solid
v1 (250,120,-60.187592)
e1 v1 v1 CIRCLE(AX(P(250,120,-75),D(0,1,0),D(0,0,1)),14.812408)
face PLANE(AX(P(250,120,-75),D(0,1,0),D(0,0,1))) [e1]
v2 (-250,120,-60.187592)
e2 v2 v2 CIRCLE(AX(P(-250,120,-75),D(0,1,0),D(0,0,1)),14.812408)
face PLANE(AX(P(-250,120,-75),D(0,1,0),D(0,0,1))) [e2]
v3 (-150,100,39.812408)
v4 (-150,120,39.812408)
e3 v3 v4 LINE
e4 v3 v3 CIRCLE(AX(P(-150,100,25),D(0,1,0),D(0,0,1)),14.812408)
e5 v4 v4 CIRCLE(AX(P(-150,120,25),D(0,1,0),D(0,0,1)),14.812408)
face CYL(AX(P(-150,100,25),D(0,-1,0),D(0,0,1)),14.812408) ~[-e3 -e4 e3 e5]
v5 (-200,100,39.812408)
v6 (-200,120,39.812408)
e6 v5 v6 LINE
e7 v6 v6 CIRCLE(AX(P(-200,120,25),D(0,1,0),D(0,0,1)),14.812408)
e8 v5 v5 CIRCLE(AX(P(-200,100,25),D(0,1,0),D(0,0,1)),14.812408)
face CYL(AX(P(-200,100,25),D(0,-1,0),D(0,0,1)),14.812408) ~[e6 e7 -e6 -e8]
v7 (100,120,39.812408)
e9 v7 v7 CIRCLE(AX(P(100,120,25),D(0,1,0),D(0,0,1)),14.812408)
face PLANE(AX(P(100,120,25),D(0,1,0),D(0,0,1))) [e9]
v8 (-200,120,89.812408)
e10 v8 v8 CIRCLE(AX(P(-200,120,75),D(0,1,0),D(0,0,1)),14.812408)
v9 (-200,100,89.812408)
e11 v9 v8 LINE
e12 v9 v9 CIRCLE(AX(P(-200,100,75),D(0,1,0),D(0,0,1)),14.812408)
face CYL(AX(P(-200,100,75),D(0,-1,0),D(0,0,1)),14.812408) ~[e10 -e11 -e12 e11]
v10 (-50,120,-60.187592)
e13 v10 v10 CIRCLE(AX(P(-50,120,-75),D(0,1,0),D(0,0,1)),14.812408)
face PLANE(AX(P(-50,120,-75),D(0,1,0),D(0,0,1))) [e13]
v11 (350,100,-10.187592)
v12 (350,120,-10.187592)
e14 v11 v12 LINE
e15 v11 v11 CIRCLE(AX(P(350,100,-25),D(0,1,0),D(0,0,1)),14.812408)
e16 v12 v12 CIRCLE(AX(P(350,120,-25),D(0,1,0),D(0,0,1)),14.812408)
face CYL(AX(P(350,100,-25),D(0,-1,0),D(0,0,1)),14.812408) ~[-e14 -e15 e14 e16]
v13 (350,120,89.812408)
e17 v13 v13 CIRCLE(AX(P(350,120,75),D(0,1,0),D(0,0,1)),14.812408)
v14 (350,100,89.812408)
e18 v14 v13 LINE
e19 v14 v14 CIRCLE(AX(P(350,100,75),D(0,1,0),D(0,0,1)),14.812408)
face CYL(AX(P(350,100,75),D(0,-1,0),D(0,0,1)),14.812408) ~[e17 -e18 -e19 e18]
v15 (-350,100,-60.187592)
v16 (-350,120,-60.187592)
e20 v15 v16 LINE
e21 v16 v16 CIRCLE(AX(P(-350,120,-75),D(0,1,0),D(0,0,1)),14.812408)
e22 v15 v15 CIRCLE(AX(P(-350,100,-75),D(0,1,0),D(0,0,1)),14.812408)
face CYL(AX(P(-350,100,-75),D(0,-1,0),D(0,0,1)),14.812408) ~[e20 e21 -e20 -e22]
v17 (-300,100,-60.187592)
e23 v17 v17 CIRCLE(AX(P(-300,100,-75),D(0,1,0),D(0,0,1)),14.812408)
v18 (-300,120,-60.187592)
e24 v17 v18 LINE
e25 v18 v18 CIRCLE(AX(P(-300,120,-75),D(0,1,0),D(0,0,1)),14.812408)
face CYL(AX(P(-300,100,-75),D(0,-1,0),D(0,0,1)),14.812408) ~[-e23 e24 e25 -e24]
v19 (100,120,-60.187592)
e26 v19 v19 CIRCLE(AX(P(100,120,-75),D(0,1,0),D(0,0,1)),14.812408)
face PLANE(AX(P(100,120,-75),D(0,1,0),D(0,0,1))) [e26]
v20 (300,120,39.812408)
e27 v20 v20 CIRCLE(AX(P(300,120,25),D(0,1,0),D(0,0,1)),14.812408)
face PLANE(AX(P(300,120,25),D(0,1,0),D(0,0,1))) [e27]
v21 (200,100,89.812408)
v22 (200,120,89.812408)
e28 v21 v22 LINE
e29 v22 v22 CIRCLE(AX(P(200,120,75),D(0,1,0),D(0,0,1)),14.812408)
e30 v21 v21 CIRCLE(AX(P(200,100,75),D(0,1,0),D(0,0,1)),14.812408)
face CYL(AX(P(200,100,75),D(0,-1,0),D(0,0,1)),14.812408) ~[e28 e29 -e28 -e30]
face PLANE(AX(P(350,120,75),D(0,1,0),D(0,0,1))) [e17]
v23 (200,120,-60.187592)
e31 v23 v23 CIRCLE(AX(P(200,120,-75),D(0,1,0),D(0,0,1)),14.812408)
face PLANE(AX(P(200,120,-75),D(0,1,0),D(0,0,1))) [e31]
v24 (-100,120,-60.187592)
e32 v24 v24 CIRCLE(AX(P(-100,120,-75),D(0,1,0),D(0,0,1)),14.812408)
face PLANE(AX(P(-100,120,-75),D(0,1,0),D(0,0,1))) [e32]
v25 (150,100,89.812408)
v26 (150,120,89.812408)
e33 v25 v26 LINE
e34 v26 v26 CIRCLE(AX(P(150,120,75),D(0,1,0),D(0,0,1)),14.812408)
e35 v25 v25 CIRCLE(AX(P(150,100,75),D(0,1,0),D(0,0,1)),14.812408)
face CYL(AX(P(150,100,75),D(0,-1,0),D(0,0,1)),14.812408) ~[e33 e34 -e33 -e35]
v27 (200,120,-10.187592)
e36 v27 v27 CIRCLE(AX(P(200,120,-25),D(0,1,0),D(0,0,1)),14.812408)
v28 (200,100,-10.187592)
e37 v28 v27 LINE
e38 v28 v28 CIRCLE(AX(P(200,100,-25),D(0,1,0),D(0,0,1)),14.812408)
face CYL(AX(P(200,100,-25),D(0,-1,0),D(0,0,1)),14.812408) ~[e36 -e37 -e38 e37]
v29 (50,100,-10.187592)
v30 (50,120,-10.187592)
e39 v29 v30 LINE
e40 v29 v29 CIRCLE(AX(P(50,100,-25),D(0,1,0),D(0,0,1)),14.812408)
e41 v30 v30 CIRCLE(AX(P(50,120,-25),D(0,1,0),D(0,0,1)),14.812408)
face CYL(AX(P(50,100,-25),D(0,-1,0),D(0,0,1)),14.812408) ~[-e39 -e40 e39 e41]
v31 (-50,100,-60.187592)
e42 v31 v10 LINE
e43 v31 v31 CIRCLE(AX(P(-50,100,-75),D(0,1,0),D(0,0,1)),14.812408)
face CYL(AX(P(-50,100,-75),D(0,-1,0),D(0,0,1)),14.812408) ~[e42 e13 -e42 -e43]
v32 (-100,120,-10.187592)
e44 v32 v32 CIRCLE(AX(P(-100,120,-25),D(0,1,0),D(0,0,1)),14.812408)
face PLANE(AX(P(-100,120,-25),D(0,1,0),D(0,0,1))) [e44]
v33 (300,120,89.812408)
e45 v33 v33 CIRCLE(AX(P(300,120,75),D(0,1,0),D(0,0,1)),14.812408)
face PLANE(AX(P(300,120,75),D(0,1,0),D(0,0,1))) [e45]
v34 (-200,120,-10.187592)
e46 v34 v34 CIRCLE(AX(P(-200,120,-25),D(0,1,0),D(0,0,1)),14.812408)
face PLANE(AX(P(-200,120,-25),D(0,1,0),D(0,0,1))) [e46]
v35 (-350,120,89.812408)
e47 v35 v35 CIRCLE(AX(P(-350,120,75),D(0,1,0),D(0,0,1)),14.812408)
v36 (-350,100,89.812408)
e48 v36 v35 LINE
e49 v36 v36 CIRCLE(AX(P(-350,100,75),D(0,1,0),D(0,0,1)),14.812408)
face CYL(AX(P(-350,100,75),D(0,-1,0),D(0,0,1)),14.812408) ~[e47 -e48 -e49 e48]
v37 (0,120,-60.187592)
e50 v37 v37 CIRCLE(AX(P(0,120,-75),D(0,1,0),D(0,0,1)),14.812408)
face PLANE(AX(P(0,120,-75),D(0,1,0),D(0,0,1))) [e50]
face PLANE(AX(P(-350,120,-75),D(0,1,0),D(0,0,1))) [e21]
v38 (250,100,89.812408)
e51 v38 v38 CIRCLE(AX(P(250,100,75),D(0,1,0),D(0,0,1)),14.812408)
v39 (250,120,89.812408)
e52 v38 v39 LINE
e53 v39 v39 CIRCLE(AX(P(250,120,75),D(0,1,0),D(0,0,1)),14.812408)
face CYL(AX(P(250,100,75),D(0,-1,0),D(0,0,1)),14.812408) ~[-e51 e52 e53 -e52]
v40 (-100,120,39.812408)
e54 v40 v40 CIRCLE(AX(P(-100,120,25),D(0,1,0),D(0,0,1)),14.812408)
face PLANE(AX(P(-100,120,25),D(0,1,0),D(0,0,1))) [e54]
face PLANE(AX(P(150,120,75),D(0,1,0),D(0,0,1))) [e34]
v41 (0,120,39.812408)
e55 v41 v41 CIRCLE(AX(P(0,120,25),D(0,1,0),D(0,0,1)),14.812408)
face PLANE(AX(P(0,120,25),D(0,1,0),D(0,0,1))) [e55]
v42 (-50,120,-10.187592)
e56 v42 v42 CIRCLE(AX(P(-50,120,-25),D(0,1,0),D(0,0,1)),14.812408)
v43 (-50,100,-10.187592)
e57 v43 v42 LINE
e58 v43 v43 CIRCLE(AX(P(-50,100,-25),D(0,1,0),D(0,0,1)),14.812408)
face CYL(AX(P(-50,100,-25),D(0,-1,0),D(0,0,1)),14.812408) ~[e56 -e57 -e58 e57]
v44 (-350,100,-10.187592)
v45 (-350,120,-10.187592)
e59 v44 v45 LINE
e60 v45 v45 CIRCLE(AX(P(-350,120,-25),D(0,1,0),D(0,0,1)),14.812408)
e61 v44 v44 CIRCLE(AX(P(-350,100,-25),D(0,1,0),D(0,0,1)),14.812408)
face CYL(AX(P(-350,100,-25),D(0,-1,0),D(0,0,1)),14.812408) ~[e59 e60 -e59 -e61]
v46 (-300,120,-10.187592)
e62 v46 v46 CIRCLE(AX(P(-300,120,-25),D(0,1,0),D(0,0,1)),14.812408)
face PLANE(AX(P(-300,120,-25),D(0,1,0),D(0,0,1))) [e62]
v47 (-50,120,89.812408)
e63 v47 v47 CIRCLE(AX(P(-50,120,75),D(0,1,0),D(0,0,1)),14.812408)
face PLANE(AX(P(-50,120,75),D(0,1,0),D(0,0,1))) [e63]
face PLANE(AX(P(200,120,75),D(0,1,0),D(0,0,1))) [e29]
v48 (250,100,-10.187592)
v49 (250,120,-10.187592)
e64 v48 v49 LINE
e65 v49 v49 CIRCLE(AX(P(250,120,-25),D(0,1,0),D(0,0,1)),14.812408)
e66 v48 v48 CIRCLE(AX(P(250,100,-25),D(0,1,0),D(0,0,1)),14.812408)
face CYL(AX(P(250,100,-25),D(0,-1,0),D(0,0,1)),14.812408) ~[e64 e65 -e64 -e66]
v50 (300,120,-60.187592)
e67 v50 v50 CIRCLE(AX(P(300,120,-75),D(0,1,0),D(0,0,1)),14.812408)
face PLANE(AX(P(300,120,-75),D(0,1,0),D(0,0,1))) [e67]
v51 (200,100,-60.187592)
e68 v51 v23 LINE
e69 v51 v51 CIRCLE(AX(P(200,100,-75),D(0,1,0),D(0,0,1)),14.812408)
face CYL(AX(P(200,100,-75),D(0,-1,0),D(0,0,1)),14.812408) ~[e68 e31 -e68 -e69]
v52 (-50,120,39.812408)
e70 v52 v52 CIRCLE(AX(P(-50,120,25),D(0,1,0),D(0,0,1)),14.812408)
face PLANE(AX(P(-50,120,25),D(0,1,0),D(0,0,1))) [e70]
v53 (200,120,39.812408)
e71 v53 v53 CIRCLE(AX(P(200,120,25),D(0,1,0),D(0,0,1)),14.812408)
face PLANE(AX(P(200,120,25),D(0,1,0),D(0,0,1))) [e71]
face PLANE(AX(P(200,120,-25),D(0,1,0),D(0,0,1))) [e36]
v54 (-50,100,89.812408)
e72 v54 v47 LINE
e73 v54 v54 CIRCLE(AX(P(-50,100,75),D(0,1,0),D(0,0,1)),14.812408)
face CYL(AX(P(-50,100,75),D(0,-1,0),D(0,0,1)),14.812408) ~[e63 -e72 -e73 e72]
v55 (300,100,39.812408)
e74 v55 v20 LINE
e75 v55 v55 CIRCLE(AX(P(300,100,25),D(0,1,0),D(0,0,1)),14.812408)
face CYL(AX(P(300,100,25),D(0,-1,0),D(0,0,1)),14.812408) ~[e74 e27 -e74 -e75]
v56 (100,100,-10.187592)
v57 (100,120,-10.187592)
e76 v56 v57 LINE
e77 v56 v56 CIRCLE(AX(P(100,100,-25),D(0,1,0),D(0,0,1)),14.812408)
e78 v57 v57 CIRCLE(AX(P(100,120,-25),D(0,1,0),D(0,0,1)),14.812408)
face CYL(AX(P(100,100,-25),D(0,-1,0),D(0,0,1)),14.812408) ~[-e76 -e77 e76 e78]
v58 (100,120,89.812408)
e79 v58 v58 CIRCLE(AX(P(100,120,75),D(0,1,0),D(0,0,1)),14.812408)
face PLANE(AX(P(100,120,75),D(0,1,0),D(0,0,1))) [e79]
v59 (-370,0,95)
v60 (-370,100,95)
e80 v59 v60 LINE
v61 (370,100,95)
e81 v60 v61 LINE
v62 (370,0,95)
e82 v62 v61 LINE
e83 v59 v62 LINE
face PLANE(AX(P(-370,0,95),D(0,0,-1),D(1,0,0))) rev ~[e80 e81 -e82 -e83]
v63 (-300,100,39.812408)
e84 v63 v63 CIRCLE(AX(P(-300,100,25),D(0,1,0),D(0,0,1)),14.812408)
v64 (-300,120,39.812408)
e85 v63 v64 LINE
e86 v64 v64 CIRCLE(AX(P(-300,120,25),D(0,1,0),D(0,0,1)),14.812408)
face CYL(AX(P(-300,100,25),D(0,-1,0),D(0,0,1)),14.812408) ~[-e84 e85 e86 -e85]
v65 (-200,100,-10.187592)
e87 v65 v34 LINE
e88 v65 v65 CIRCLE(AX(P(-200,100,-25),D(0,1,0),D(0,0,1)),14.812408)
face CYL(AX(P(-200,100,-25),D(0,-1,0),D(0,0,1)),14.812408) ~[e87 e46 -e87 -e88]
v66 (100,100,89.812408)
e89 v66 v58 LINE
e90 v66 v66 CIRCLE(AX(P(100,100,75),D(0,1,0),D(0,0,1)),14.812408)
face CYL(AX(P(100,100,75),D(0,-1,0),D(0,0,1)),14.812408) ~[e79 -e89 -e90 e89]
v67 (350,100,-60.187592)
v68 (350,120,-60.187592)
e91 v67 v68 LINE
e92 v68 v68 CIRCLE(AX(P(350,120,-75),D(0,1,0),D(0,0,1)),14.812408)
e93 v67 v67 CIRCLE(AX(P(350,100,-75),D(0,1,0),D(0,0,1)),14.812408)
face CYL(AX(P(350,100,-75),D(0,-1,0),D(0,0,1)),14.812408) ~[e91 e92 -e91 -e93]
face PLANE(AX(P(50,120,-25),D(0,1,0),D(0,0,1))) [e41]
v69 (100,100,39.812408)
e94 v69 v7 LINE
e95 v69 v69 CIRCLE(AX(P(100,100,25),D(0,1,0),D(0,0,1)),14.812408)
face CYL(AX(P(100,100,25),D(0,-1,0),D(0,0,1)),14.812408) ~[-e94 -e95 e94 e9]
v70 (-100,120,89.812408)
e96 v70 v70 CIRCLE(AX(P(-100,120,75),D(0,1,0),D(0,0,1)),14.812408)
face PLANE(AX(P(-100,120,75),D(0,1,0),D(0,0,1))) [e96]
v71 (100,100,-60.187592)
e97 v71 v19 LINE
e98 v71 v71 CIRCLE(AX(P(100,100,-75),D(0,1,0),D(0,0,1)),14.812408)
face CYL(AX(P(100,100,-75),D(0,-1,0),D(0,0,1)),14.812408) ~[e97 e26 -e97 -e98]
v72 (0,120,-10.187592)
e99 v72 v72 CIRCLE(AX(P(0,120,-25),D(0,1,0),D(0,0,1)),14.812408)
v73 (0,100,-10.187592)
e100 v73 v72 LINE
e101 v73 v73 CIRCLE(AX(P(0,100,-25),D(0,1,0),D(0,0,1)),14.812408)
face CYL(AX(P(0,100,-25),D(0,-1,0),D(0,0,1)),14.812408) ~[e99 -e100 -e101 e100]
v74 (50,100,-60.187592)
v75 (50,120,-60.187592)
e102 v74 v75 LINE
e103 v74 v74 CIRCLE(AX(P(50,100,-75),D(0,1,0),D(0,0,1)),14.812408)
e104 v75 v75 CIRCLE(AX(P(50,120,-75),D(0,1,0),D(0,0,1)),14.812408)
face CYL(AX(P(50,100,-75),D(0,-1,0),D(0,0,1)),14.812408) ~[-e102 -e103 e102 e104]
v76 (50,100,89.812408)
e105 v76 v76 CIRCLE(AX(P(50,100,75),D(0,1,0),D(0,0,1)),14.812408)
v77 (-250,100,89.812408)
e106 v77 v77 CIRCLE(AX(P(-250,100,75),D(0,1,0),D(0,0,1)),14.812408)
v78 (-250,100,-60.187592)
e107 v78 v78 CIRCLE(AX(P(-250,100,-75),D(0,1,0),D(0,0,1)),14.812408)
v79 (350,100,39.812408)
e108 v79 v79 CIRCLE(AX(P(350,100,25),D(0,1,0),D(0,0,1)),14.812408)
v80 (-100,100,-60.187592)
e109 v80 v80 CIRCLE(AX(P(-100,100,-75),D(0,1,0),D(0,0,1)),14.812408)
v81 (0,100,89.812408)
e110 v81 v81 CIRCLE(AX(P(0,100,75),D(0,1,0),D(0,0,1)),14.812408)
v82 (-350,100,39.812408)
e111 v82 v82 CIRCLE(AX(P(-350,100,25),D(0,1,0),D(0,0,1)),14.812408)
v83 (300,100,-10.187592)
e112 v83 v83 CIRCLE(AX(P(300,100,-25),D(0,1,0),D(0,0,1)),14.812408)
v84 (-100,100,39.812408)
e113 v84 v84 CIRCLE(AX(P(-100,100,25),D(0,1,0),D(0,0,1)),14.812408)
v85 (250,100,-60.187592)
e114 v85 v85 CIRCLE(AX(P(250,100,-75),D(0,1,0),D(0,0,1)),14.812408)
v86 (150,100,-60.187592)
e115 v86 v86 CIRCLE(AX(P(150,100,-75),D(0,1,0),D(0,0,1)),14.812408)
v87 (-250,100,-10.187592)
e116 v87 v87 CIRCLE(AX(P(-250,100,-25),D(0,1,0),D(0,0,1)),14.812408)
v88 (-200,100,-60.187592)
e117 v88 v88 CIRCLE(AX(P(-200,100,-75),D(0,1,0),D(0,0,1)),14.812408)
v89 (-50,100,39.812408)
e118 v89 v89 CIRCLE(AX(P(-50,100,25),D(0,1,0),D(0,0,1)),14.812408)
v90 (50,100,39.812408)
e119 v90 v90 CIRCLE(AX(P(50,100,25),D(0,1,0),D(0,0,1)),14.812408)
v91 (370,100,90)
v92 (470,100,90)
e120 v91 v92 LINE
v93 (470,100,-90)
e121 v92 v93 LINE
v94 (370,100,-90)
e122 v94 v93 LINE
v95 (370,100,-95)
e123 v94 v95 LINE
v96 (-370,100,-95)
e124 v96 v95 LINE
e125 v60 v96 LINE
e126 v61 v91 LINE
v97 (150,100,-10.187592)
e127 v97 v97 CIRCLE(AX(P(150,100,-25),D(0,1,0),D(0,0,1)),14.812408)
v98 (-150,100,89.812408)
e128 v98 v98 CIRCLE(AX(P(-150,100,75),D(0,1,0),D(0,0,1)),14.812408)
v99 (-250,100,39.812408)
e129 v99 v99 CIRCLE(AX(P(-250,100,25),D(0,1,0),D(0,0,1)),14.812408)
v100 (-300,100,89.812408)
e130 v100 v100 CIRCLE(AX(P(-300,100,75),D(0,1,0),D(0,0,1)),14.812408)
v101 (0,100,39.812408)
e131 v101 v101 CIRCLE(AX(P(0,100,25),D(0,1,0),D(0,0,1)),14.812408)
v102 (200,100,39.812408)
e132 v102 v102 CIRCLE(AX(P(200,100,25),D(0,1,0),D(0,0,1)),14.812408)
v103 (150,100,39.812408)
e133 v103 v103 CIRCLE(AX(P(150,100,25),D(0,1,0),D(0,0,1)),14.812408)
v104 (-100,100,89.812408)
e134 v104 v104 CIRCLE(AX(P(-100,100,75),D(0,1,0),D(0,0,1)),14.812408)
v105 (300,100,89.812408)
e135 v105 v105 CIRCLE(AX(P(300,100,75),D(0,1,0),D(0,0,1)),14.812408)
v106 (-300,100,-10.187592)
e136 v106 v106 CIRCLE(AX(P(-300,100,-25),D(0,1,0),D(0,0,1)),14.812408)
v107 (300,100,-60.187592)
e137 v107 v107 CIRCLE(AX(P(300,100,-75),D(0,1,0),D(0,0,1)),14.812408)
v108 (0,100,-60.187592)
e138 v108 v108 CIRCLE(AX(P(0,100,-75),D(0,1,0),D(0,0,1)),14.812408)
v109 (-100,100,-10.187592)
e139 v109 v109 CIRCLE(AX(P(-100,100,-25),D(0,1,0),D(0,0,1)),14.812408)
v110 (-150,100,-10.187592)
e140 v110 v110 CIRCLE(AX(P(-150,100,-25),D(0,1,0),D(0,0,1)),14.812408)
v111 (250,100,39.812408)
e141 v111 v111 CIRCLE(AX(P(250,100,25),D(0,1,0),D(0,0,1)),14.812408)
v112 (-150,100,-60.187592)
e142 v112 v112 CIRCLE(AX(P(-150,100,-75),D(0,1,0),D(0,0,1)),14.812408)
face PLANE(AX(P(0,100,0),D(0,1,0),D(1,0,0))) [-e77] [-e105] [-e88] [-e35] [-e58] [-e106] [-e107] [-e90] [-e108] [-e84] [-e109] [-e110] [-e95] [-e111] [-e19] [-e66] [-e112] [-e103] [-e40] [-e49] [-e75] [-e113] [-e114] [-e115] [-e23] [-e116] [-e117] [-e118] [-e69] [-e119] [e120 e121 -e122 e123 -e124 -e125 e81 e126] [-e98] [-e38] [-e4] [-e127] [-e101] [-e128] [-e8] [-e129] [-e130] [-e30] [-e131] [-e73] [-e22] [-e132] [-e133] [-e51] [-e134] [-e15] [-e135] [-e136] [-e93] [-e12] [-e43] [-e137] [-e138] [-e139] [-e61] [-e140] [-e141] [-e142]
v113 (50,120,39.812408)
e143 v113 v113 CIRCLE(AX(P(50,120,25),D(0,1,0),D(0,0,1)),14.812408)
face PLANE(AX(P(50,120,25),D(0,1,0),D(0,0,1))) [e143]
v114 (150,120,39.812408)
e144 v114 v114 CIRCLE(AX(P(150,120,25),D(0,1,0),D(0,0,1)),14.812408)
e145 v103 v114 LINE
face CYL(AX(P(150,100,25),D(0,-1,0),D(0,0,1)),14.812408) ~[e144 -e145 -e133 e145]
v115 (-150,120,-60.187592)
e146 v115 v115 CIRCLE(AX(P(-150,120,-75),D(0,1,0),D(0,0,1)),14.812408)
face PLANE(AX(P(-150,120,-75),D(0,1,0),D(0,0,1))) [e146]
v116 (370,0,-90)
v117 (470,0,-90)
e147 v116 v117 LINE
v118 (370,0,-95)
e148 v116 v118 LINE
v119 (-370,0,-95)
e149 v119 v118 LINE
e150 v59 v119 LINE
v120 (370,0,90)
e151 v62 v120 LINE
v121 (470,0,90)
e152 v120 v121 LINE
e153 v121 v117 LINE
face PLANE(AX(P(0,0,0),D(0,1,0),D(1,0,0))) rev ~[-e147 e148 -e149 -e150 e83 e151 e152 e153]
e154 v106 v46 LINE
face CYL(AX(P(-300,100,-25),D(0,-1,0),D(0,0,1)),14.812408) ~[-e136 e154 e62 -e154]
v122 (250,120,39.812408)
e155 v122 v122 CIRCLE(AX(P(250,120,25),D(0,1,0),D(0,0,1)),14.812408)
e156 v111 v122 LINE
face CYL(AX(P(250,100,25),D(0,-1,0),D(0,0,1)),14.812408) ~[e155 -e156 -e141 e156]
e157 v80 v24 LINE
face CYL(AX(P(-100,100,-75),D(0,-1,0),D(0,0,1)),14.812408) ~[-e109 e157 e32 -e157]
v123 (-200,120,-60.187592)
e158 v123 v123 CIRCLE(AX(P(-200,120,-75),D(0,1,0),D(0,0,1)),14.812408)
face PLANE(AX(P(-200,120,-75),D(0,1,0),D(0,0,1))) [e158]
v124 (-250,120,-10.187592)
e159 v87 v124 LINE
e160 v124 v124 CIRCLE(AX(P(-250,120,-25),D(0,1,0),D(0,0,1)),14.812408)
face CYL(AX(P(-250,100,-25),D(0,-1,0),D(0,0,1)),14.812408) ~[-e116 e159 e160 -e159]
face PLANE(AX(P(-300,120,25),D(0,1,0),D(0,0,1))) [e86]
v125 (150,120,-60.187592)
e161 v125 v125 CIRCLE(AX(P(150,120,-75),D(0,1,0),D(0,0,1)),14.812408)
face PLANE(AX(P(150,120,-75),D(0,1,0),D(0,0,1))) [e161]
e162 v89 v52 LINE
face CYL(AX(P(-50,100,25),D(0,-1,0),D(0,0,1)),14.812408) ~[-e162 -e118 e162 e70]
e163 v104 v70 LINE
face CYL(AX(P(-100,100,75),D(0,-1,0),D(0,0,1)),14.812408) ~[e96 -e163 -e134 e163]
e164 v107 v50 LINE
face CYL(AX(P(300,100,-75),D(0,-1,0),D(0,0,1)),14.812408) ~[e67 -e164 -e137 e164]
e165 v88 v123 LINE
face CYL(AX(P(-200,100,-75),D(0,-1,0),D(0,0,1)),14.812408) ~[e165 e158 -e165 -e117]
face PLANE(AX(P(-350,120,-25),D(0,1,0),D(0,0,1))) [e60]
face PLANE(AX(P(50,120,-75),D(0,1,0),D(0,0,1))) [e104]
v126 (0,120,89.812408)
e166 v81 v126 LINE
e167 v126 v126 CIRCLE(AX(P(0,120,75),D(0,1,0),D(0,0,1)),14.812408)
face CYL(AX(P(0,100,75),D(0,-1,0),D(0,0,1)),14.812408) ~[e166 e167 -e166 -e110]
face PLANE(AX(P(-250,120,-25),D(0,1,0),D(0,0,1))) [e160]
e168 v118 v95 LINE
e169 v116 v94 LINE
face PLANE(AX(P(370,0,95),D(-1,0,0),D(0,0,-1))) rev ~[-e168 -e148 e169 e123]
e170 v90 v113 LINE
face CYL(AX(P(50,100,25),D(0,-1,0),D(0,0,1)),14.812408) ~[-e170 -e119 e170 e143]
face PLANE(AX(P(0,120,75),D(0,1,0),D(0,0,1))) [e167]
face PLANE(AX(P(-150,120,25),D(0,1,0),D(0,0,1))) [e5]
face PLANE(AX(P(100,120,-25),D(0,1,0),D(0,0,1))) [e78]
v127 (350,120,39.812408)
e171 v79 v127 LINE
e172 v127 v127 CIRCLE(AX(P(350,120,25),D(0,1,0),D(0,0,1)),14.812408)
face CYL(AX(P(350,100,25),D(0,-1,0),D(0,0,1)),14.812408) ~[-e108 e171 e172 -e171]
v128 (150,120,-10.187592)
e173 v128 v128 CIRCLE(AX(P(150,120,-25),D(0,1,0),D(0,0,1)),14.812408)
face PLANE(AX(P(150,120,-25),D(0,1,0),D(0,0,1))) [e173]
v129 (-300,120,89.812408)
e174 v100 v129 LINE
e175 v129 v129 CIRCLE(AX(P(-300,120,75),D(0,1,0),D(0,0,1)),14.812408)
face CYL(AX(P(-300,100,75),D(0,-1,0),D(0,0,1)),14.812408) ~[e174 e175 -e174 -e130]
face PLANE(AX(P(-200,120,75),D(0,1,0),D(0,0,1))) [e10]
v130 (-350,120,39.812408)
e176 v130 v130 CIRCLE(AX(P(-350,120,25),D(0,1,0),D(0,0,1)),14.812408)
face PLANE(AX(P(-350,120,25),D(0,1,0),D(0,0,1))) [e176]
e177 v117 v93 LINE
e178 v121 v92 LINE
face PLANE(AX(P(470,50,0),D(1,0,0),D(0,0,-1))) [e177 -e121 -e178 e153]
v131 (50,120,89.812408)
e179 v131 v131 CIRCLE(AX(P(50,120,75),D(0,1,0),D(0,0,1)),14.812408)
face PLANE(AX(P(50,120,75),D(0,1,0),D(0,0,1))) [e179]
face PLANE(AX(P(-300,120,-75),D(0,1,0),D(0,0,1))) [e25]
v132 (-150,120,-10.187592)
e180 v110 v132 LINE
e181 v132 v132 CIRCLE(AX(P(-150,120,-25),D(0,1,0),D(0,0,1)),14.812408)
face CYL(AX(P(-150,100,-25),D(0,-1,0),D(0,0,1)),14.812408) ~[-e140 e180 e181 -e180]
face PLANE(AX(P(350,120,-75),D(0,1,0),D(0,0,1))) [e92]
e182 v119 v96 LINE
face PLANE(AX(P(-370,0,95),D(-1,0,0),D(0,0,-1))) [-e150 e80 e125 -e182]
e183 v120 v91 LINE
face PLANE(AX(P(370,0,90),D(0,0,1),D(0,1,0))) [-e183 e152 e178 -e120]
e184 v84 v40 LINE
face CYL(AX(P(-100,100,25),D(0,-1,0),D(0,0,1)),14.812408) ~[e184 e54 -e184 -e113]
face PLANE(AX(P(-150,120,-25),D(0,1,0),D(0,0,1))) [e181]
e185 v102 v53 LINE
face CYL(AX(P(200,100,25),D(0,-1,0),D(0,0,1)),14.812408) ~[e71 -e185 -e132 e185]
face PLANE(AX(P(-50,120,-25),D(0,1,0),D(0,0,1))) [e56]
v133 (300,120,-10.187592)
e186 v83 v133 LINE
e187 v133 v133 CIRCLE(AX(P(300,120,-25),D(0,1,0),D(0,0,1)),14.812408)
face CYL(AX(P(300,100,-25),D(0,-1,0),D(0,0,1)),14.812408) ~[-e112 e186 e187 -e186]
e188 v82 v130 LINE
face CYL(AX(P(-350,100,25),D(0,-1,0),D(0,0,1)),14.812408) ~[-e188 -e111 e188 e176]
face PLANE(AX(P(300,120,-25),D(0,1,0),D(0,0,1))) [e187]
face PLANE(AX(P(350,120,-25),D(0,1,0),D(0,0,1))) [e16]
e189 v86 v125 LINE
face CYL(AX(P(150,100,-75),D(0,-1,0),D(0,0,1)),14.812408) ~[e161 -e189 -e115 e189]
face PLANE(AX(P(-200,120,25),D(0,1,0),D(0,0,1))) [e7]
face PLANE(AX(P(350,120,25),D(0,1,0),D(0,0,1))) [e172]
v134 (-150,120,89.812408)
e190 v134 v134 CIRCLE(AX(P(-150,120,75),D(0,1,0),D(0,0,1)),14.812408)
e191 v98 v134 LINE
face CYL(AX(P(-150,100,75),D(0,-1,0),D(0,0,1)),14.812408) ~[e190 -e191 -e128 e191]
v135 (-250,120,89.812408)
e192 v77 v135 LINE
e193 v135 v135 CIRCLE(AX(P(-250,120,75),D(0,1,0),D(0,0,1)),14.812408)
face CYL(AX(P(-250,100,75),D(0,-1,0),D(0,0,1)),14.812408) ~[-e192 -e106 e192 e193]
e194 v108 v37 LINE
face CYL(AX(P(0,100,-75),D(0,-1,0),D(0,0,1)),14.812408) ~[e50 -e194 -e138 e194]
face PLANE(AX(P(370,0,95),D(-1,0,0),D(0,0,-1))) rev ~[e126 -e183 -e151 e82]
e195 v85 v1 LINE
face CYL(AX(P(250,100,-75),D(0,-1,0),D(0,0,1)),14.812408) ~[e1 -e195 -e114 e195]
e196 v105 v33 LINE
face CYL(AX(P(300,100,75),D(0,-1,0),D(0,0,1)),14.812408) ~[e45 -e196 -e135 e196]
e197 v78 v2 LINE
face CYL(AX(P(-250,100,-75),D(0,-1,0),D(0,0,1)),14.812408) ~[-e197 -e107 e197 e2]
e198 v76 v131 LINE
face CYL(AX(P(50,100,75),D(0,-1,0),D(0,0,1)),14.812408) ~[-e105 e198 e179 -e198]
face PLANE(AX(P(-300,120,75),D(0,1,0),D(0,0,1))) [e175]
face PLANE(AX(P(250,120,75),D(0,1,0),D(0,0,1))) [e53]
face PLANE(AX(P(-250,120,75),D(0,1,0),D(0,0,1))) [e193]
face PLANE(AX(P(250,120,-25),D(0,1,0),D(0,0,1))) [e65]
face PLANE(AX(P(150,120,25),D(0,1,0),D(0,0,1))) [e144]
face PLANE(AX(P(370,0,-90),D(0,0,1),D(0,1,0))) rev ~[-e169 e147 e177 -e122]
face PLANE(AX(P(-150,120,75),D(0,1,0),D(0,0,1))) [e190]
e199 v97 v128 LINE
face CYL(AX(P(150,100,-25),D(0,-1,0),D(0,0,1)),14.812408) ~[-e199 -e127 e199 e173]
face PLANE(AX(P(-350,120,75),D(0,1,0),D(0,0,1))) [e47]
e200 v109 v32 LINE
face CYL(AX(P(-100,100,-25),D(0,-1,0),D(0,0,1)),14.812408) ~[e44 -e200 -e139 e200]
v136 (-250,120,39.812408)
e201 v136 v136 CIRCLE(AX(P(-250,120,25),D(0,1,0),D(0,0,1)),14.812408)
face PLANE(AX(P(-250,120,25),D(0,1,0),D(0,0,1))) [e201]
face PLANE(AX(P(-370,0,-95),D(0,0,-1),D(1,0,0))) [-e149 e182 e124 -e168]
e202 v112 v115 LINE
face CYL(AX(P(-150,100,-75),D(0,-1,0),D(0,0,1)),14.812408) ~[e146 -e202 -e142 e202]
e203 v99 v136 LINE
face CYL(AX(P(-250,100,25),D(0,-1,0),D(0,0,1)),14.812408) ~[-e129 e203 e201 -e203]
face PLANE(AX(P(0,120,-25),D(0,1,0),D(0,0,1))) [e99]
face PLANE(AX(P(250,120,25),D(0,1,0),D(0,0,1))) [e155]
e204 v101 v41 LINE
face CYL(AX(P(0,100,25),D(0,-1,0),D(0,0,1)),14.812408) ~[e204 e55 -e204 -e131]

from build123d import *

# Parameters (mm, degrees)
SKETCH_1_W      = 740
SKETCH_1_H      = 190
EXTRUDE_1_DEPTH = 100
SKETCH_2_R      = 14.812408038
EXTRUDE_2_DEPTH = 20
SKETCH_3_W      = 180
SKETCH_3_H      = 100
EXTRUDE_3_DEPTH = 100


with BuildPart() as part:
    # 草图1 → 凸台-拉伸1 (new body)
    with BuildSketch(Plane(origin=(0, 0, 0), x_dir=(1, 0, 0), z_dir=(0, 1, 0))):
        Rectangle(SKETCH_1_W, SKETCH_1_H)
    extrude(amount=EXTRUDE_1_DEPTH)

    # 草图2 → 凸台-拉伸2 (add)
    with BuildSketch(Plane(origin=(0, 100, 0), x_dir=(1, 0, 0), z_dir=(0, 1, 0))):
        with Locations(Location((350, -75, 0), (0, 0, 270))):
            Circle(SKETCH_2_R)
        with Locations(Location((300, -75, 0), (0, 0, 270))):
            Circle(SKETCH_2_R)
        with Locations(Location((250, -75, 0), (0, 0, 270))):
            Circle(SKETCH_2_R)
        with Locations(Location((200, -75, 0), (0, 0, 270))):
            Circle(SKETCH_2_R)
        with Locations(Location((150, -75, 0), (0, 0, 270))):
            Circle(SKETCH_2_R)
        with Locations(Location((100, -75, 0), (0, 0, 270))):
            Circle(SKETCH_2_R)
        with Locations(Location((50, -75, 0), (0, 0, 270))):
            Circle(SKETCH_2_R)
        with Locations(Location((0, -75, 0), (0, 0, 270))):
            Circle(SKETCH_2_R)
        with Locations(Location((-50, -75, 0), (0, 0, 270))):
            Circle(SKETCH_2_R)
        with Locations(Location((-100, -75, 0), (0, 0, 270))):
            Circle(SKETCH_2_R)
        with Locations(Location((-150, -75, 0), (0, 0, 270))):
            Circle(SKETCH_2_R)
        with Locations(Location((-200, -75, 0), (0, 0, 270))):
            Circle(SKETCH_2_R)
        with Locations(Location((-250, -75, 0), (0, 0, 270))):
            Circle(SKETCH_2_R)
        with Locations(Location((-300, -75, 0), (0, 0, 270))):
            Circle(SKETCH_2_R)
        with Locations(Location((-350, -75, 0), (0, 0, 270))):
            Circle(SKETCH_2_R)
        with Locations(Location((300, -25, 0), (0, 0, 270))):
            Circle(SKETCH_2_R)
        with Locations(Location((250, -25, 0), (0, 0, 270))):
            Circle(SKETCH_2_R)
        with Locations(Location((200, -25, 0), (0, 0, 270))):
            Circle(SKETCH_2_R)
        with Locations(Location((150, -25, 0), (0, 0, 270))):
            Circle(SKETCH_2_R)
        with Locations(Location((100, -25, 0), (0, 0, 270))):
            Circle(SKETCH_2_R)
        with Locations(Location((50, -25, 0), (0, 0, 270))):
            Circle(SKETCH_2_R)
        with Locations(Location((0, -25, 0), (0, 0, 270))):
            Circle(SKETCH_2_R)
        with Locations(Location((-50, -25, 0), (0, 0, 270))):
            Circle(SKETCH_2_R)
        with Locations(Location((-100, -25, 0), (0, 0, 270))):
            Circle(SKETCH_2_R)
        with Locations(Location((-150, -25, 0), (0, 0, 270))):
            Circle(SKETCH_2_R)
        with Locations(Location((-200, -25, 0), (0, 0, 270))):
            Circle(SKETCH_2_R)
        with Locations(Location((-250, -25, 0), (0, 0, 270))):
            Circle(SKETCH_2_R)
        with Locations(Location((-300, -25, 0), (0, 0, 270))):
            Circle(SKETCH_2_R)
        with Locations(Location((-350, -25, 0), (0, 0, 270))):
            Circle(SKETCH_2_R)
        with Locations(Location((300, 25, 0), (0, 0, 270))):
            Circle(SKETCH_2_R)
        with Locations(Location((250, 25, 0), (0, 0, 270))):
            Circle(SKETCH_2_R)
        with Locations(Location((200, 25, 0), (0, 0, 270))):
            Circle(SKETCH_2_R)
        with Locations(Location((150, 25, 0), (0, 0, 270))):
            Circle(SKETCH_2_R)
        with Locations(Location((100, 25, 0), (0, 0, 270))):
            Circle(SKETCH_2_R)
        with Locations(Location((50, 25, 0), (0, 0, 270))):
            Circle(SKETCH_2_R)
        with Locations(Location((0, 25, 0), (0, 0, 270))):
            Circle(SKETCH_2_R)
        with Locations(Location((-50, 25, 0), (0, 0, 270))):
            Circle(SKETCH_2_R)
        with Locations(Location((-100, 25, 0), (0, 0, 270))):
            Circle(SKETCH_2_R)
        with Locations(Location((-150, 25, 0), (0, 0, 270))):
            Circle(SKETCH_2_R)
        with Locations(Location((-200, 25, 0), (0, 0, 270))):
            Circle(SKETCH_2_R)
        with Locations(Location((-250, 25, 0), (0, 0, 270))):
            Circle(SKETCH_2_R)
        with Locations(Location((-300, 25, 0), (0, 0, 270))):
            Circle(SKETCH_2_R)
        with Locations(Location((-350, 25, 0), (0, 0, 270))):
            Circle(SKETCH_2_R)
        with Locations(Location((300, 75, 0), (0, 0, 270))):
            Circle(SKETCH_2_R)
        with Locations(Location((250, 75, 0), (0, 0, 270))):
            Circle(SKETCH_2_R)
        with Locations(Location((200, 75, 0), (0, 0, 270))):
            Circle(SKETCH_2_R)
        with Locations(Location((150, 75, 0), (0, 0, 270))):
            Circle(SKETCH_2_R)
        with Locations(Location((100, 75, 0), (0, 0, 270))):
            Circle(SKETCH_2_R)
        with Locations(Location((50, 75, 0), (0, 0, 270))):
            Circle(SKETCH_2_R)
        with Locations(Location((0, 75, 0), (0, 0, 270))):
            Circle(SKETCH_2_R)
        with Locations(Location((-50, 75, 0), (0, 0, 270))):
            Circle(SKETCH_2_R)
        with Locations(Location((-100, 75, 0), (0, 0, 270))):
            Circle(SKETCH_2_R)
        with Locations(Location((-150, 75, 0), (0, 0, 270))):
            Circle(SKETCH_2_R)
        with Locations(Location((-200, 75, 0), (0, 0, 270))):
            Circle(SKETCH_2_R)
        with Locations(Location((-250, 75, 0), (0, 0, 270))):
            Circle(SKETCH_2_R)
        with Locations(Location((-300, 75, 0), (0, 0, 270))):
            Circle(SKETCH_2_R)
        with Locations(Location((-350, 75, 0), (0, 0, 270))):
            Circle(SKETCH_2_R)
        with Locations(Location((350, -25, 0), (0, 0, 270))):
            Circle(SKETCH_2_R)
        with Locations(Location((350, 25, 0), (0, 0, 270))):
            Circle(SKETCH_2_R)
        with Locations(Location((350, 75, 0), (0, 0, 270))):
            Circle(SKETCH_2_R)
    extrude(amount=EXTRUDE_2_DEPTH)

    # 草图3 → 凸台-拉伸3 (add)
    with BuildSketch(Plane(origin=(370, 0, 0), x_dir=(0, 0, -1), z_dir=(1, 0, 0))):
        with Locations((0, 50)):
            Rectangle(SKETCH_3_W, SKETCH_3_H)
    extrude(amount=EXTRUDE_3_DEPTH)


solid = part.part
